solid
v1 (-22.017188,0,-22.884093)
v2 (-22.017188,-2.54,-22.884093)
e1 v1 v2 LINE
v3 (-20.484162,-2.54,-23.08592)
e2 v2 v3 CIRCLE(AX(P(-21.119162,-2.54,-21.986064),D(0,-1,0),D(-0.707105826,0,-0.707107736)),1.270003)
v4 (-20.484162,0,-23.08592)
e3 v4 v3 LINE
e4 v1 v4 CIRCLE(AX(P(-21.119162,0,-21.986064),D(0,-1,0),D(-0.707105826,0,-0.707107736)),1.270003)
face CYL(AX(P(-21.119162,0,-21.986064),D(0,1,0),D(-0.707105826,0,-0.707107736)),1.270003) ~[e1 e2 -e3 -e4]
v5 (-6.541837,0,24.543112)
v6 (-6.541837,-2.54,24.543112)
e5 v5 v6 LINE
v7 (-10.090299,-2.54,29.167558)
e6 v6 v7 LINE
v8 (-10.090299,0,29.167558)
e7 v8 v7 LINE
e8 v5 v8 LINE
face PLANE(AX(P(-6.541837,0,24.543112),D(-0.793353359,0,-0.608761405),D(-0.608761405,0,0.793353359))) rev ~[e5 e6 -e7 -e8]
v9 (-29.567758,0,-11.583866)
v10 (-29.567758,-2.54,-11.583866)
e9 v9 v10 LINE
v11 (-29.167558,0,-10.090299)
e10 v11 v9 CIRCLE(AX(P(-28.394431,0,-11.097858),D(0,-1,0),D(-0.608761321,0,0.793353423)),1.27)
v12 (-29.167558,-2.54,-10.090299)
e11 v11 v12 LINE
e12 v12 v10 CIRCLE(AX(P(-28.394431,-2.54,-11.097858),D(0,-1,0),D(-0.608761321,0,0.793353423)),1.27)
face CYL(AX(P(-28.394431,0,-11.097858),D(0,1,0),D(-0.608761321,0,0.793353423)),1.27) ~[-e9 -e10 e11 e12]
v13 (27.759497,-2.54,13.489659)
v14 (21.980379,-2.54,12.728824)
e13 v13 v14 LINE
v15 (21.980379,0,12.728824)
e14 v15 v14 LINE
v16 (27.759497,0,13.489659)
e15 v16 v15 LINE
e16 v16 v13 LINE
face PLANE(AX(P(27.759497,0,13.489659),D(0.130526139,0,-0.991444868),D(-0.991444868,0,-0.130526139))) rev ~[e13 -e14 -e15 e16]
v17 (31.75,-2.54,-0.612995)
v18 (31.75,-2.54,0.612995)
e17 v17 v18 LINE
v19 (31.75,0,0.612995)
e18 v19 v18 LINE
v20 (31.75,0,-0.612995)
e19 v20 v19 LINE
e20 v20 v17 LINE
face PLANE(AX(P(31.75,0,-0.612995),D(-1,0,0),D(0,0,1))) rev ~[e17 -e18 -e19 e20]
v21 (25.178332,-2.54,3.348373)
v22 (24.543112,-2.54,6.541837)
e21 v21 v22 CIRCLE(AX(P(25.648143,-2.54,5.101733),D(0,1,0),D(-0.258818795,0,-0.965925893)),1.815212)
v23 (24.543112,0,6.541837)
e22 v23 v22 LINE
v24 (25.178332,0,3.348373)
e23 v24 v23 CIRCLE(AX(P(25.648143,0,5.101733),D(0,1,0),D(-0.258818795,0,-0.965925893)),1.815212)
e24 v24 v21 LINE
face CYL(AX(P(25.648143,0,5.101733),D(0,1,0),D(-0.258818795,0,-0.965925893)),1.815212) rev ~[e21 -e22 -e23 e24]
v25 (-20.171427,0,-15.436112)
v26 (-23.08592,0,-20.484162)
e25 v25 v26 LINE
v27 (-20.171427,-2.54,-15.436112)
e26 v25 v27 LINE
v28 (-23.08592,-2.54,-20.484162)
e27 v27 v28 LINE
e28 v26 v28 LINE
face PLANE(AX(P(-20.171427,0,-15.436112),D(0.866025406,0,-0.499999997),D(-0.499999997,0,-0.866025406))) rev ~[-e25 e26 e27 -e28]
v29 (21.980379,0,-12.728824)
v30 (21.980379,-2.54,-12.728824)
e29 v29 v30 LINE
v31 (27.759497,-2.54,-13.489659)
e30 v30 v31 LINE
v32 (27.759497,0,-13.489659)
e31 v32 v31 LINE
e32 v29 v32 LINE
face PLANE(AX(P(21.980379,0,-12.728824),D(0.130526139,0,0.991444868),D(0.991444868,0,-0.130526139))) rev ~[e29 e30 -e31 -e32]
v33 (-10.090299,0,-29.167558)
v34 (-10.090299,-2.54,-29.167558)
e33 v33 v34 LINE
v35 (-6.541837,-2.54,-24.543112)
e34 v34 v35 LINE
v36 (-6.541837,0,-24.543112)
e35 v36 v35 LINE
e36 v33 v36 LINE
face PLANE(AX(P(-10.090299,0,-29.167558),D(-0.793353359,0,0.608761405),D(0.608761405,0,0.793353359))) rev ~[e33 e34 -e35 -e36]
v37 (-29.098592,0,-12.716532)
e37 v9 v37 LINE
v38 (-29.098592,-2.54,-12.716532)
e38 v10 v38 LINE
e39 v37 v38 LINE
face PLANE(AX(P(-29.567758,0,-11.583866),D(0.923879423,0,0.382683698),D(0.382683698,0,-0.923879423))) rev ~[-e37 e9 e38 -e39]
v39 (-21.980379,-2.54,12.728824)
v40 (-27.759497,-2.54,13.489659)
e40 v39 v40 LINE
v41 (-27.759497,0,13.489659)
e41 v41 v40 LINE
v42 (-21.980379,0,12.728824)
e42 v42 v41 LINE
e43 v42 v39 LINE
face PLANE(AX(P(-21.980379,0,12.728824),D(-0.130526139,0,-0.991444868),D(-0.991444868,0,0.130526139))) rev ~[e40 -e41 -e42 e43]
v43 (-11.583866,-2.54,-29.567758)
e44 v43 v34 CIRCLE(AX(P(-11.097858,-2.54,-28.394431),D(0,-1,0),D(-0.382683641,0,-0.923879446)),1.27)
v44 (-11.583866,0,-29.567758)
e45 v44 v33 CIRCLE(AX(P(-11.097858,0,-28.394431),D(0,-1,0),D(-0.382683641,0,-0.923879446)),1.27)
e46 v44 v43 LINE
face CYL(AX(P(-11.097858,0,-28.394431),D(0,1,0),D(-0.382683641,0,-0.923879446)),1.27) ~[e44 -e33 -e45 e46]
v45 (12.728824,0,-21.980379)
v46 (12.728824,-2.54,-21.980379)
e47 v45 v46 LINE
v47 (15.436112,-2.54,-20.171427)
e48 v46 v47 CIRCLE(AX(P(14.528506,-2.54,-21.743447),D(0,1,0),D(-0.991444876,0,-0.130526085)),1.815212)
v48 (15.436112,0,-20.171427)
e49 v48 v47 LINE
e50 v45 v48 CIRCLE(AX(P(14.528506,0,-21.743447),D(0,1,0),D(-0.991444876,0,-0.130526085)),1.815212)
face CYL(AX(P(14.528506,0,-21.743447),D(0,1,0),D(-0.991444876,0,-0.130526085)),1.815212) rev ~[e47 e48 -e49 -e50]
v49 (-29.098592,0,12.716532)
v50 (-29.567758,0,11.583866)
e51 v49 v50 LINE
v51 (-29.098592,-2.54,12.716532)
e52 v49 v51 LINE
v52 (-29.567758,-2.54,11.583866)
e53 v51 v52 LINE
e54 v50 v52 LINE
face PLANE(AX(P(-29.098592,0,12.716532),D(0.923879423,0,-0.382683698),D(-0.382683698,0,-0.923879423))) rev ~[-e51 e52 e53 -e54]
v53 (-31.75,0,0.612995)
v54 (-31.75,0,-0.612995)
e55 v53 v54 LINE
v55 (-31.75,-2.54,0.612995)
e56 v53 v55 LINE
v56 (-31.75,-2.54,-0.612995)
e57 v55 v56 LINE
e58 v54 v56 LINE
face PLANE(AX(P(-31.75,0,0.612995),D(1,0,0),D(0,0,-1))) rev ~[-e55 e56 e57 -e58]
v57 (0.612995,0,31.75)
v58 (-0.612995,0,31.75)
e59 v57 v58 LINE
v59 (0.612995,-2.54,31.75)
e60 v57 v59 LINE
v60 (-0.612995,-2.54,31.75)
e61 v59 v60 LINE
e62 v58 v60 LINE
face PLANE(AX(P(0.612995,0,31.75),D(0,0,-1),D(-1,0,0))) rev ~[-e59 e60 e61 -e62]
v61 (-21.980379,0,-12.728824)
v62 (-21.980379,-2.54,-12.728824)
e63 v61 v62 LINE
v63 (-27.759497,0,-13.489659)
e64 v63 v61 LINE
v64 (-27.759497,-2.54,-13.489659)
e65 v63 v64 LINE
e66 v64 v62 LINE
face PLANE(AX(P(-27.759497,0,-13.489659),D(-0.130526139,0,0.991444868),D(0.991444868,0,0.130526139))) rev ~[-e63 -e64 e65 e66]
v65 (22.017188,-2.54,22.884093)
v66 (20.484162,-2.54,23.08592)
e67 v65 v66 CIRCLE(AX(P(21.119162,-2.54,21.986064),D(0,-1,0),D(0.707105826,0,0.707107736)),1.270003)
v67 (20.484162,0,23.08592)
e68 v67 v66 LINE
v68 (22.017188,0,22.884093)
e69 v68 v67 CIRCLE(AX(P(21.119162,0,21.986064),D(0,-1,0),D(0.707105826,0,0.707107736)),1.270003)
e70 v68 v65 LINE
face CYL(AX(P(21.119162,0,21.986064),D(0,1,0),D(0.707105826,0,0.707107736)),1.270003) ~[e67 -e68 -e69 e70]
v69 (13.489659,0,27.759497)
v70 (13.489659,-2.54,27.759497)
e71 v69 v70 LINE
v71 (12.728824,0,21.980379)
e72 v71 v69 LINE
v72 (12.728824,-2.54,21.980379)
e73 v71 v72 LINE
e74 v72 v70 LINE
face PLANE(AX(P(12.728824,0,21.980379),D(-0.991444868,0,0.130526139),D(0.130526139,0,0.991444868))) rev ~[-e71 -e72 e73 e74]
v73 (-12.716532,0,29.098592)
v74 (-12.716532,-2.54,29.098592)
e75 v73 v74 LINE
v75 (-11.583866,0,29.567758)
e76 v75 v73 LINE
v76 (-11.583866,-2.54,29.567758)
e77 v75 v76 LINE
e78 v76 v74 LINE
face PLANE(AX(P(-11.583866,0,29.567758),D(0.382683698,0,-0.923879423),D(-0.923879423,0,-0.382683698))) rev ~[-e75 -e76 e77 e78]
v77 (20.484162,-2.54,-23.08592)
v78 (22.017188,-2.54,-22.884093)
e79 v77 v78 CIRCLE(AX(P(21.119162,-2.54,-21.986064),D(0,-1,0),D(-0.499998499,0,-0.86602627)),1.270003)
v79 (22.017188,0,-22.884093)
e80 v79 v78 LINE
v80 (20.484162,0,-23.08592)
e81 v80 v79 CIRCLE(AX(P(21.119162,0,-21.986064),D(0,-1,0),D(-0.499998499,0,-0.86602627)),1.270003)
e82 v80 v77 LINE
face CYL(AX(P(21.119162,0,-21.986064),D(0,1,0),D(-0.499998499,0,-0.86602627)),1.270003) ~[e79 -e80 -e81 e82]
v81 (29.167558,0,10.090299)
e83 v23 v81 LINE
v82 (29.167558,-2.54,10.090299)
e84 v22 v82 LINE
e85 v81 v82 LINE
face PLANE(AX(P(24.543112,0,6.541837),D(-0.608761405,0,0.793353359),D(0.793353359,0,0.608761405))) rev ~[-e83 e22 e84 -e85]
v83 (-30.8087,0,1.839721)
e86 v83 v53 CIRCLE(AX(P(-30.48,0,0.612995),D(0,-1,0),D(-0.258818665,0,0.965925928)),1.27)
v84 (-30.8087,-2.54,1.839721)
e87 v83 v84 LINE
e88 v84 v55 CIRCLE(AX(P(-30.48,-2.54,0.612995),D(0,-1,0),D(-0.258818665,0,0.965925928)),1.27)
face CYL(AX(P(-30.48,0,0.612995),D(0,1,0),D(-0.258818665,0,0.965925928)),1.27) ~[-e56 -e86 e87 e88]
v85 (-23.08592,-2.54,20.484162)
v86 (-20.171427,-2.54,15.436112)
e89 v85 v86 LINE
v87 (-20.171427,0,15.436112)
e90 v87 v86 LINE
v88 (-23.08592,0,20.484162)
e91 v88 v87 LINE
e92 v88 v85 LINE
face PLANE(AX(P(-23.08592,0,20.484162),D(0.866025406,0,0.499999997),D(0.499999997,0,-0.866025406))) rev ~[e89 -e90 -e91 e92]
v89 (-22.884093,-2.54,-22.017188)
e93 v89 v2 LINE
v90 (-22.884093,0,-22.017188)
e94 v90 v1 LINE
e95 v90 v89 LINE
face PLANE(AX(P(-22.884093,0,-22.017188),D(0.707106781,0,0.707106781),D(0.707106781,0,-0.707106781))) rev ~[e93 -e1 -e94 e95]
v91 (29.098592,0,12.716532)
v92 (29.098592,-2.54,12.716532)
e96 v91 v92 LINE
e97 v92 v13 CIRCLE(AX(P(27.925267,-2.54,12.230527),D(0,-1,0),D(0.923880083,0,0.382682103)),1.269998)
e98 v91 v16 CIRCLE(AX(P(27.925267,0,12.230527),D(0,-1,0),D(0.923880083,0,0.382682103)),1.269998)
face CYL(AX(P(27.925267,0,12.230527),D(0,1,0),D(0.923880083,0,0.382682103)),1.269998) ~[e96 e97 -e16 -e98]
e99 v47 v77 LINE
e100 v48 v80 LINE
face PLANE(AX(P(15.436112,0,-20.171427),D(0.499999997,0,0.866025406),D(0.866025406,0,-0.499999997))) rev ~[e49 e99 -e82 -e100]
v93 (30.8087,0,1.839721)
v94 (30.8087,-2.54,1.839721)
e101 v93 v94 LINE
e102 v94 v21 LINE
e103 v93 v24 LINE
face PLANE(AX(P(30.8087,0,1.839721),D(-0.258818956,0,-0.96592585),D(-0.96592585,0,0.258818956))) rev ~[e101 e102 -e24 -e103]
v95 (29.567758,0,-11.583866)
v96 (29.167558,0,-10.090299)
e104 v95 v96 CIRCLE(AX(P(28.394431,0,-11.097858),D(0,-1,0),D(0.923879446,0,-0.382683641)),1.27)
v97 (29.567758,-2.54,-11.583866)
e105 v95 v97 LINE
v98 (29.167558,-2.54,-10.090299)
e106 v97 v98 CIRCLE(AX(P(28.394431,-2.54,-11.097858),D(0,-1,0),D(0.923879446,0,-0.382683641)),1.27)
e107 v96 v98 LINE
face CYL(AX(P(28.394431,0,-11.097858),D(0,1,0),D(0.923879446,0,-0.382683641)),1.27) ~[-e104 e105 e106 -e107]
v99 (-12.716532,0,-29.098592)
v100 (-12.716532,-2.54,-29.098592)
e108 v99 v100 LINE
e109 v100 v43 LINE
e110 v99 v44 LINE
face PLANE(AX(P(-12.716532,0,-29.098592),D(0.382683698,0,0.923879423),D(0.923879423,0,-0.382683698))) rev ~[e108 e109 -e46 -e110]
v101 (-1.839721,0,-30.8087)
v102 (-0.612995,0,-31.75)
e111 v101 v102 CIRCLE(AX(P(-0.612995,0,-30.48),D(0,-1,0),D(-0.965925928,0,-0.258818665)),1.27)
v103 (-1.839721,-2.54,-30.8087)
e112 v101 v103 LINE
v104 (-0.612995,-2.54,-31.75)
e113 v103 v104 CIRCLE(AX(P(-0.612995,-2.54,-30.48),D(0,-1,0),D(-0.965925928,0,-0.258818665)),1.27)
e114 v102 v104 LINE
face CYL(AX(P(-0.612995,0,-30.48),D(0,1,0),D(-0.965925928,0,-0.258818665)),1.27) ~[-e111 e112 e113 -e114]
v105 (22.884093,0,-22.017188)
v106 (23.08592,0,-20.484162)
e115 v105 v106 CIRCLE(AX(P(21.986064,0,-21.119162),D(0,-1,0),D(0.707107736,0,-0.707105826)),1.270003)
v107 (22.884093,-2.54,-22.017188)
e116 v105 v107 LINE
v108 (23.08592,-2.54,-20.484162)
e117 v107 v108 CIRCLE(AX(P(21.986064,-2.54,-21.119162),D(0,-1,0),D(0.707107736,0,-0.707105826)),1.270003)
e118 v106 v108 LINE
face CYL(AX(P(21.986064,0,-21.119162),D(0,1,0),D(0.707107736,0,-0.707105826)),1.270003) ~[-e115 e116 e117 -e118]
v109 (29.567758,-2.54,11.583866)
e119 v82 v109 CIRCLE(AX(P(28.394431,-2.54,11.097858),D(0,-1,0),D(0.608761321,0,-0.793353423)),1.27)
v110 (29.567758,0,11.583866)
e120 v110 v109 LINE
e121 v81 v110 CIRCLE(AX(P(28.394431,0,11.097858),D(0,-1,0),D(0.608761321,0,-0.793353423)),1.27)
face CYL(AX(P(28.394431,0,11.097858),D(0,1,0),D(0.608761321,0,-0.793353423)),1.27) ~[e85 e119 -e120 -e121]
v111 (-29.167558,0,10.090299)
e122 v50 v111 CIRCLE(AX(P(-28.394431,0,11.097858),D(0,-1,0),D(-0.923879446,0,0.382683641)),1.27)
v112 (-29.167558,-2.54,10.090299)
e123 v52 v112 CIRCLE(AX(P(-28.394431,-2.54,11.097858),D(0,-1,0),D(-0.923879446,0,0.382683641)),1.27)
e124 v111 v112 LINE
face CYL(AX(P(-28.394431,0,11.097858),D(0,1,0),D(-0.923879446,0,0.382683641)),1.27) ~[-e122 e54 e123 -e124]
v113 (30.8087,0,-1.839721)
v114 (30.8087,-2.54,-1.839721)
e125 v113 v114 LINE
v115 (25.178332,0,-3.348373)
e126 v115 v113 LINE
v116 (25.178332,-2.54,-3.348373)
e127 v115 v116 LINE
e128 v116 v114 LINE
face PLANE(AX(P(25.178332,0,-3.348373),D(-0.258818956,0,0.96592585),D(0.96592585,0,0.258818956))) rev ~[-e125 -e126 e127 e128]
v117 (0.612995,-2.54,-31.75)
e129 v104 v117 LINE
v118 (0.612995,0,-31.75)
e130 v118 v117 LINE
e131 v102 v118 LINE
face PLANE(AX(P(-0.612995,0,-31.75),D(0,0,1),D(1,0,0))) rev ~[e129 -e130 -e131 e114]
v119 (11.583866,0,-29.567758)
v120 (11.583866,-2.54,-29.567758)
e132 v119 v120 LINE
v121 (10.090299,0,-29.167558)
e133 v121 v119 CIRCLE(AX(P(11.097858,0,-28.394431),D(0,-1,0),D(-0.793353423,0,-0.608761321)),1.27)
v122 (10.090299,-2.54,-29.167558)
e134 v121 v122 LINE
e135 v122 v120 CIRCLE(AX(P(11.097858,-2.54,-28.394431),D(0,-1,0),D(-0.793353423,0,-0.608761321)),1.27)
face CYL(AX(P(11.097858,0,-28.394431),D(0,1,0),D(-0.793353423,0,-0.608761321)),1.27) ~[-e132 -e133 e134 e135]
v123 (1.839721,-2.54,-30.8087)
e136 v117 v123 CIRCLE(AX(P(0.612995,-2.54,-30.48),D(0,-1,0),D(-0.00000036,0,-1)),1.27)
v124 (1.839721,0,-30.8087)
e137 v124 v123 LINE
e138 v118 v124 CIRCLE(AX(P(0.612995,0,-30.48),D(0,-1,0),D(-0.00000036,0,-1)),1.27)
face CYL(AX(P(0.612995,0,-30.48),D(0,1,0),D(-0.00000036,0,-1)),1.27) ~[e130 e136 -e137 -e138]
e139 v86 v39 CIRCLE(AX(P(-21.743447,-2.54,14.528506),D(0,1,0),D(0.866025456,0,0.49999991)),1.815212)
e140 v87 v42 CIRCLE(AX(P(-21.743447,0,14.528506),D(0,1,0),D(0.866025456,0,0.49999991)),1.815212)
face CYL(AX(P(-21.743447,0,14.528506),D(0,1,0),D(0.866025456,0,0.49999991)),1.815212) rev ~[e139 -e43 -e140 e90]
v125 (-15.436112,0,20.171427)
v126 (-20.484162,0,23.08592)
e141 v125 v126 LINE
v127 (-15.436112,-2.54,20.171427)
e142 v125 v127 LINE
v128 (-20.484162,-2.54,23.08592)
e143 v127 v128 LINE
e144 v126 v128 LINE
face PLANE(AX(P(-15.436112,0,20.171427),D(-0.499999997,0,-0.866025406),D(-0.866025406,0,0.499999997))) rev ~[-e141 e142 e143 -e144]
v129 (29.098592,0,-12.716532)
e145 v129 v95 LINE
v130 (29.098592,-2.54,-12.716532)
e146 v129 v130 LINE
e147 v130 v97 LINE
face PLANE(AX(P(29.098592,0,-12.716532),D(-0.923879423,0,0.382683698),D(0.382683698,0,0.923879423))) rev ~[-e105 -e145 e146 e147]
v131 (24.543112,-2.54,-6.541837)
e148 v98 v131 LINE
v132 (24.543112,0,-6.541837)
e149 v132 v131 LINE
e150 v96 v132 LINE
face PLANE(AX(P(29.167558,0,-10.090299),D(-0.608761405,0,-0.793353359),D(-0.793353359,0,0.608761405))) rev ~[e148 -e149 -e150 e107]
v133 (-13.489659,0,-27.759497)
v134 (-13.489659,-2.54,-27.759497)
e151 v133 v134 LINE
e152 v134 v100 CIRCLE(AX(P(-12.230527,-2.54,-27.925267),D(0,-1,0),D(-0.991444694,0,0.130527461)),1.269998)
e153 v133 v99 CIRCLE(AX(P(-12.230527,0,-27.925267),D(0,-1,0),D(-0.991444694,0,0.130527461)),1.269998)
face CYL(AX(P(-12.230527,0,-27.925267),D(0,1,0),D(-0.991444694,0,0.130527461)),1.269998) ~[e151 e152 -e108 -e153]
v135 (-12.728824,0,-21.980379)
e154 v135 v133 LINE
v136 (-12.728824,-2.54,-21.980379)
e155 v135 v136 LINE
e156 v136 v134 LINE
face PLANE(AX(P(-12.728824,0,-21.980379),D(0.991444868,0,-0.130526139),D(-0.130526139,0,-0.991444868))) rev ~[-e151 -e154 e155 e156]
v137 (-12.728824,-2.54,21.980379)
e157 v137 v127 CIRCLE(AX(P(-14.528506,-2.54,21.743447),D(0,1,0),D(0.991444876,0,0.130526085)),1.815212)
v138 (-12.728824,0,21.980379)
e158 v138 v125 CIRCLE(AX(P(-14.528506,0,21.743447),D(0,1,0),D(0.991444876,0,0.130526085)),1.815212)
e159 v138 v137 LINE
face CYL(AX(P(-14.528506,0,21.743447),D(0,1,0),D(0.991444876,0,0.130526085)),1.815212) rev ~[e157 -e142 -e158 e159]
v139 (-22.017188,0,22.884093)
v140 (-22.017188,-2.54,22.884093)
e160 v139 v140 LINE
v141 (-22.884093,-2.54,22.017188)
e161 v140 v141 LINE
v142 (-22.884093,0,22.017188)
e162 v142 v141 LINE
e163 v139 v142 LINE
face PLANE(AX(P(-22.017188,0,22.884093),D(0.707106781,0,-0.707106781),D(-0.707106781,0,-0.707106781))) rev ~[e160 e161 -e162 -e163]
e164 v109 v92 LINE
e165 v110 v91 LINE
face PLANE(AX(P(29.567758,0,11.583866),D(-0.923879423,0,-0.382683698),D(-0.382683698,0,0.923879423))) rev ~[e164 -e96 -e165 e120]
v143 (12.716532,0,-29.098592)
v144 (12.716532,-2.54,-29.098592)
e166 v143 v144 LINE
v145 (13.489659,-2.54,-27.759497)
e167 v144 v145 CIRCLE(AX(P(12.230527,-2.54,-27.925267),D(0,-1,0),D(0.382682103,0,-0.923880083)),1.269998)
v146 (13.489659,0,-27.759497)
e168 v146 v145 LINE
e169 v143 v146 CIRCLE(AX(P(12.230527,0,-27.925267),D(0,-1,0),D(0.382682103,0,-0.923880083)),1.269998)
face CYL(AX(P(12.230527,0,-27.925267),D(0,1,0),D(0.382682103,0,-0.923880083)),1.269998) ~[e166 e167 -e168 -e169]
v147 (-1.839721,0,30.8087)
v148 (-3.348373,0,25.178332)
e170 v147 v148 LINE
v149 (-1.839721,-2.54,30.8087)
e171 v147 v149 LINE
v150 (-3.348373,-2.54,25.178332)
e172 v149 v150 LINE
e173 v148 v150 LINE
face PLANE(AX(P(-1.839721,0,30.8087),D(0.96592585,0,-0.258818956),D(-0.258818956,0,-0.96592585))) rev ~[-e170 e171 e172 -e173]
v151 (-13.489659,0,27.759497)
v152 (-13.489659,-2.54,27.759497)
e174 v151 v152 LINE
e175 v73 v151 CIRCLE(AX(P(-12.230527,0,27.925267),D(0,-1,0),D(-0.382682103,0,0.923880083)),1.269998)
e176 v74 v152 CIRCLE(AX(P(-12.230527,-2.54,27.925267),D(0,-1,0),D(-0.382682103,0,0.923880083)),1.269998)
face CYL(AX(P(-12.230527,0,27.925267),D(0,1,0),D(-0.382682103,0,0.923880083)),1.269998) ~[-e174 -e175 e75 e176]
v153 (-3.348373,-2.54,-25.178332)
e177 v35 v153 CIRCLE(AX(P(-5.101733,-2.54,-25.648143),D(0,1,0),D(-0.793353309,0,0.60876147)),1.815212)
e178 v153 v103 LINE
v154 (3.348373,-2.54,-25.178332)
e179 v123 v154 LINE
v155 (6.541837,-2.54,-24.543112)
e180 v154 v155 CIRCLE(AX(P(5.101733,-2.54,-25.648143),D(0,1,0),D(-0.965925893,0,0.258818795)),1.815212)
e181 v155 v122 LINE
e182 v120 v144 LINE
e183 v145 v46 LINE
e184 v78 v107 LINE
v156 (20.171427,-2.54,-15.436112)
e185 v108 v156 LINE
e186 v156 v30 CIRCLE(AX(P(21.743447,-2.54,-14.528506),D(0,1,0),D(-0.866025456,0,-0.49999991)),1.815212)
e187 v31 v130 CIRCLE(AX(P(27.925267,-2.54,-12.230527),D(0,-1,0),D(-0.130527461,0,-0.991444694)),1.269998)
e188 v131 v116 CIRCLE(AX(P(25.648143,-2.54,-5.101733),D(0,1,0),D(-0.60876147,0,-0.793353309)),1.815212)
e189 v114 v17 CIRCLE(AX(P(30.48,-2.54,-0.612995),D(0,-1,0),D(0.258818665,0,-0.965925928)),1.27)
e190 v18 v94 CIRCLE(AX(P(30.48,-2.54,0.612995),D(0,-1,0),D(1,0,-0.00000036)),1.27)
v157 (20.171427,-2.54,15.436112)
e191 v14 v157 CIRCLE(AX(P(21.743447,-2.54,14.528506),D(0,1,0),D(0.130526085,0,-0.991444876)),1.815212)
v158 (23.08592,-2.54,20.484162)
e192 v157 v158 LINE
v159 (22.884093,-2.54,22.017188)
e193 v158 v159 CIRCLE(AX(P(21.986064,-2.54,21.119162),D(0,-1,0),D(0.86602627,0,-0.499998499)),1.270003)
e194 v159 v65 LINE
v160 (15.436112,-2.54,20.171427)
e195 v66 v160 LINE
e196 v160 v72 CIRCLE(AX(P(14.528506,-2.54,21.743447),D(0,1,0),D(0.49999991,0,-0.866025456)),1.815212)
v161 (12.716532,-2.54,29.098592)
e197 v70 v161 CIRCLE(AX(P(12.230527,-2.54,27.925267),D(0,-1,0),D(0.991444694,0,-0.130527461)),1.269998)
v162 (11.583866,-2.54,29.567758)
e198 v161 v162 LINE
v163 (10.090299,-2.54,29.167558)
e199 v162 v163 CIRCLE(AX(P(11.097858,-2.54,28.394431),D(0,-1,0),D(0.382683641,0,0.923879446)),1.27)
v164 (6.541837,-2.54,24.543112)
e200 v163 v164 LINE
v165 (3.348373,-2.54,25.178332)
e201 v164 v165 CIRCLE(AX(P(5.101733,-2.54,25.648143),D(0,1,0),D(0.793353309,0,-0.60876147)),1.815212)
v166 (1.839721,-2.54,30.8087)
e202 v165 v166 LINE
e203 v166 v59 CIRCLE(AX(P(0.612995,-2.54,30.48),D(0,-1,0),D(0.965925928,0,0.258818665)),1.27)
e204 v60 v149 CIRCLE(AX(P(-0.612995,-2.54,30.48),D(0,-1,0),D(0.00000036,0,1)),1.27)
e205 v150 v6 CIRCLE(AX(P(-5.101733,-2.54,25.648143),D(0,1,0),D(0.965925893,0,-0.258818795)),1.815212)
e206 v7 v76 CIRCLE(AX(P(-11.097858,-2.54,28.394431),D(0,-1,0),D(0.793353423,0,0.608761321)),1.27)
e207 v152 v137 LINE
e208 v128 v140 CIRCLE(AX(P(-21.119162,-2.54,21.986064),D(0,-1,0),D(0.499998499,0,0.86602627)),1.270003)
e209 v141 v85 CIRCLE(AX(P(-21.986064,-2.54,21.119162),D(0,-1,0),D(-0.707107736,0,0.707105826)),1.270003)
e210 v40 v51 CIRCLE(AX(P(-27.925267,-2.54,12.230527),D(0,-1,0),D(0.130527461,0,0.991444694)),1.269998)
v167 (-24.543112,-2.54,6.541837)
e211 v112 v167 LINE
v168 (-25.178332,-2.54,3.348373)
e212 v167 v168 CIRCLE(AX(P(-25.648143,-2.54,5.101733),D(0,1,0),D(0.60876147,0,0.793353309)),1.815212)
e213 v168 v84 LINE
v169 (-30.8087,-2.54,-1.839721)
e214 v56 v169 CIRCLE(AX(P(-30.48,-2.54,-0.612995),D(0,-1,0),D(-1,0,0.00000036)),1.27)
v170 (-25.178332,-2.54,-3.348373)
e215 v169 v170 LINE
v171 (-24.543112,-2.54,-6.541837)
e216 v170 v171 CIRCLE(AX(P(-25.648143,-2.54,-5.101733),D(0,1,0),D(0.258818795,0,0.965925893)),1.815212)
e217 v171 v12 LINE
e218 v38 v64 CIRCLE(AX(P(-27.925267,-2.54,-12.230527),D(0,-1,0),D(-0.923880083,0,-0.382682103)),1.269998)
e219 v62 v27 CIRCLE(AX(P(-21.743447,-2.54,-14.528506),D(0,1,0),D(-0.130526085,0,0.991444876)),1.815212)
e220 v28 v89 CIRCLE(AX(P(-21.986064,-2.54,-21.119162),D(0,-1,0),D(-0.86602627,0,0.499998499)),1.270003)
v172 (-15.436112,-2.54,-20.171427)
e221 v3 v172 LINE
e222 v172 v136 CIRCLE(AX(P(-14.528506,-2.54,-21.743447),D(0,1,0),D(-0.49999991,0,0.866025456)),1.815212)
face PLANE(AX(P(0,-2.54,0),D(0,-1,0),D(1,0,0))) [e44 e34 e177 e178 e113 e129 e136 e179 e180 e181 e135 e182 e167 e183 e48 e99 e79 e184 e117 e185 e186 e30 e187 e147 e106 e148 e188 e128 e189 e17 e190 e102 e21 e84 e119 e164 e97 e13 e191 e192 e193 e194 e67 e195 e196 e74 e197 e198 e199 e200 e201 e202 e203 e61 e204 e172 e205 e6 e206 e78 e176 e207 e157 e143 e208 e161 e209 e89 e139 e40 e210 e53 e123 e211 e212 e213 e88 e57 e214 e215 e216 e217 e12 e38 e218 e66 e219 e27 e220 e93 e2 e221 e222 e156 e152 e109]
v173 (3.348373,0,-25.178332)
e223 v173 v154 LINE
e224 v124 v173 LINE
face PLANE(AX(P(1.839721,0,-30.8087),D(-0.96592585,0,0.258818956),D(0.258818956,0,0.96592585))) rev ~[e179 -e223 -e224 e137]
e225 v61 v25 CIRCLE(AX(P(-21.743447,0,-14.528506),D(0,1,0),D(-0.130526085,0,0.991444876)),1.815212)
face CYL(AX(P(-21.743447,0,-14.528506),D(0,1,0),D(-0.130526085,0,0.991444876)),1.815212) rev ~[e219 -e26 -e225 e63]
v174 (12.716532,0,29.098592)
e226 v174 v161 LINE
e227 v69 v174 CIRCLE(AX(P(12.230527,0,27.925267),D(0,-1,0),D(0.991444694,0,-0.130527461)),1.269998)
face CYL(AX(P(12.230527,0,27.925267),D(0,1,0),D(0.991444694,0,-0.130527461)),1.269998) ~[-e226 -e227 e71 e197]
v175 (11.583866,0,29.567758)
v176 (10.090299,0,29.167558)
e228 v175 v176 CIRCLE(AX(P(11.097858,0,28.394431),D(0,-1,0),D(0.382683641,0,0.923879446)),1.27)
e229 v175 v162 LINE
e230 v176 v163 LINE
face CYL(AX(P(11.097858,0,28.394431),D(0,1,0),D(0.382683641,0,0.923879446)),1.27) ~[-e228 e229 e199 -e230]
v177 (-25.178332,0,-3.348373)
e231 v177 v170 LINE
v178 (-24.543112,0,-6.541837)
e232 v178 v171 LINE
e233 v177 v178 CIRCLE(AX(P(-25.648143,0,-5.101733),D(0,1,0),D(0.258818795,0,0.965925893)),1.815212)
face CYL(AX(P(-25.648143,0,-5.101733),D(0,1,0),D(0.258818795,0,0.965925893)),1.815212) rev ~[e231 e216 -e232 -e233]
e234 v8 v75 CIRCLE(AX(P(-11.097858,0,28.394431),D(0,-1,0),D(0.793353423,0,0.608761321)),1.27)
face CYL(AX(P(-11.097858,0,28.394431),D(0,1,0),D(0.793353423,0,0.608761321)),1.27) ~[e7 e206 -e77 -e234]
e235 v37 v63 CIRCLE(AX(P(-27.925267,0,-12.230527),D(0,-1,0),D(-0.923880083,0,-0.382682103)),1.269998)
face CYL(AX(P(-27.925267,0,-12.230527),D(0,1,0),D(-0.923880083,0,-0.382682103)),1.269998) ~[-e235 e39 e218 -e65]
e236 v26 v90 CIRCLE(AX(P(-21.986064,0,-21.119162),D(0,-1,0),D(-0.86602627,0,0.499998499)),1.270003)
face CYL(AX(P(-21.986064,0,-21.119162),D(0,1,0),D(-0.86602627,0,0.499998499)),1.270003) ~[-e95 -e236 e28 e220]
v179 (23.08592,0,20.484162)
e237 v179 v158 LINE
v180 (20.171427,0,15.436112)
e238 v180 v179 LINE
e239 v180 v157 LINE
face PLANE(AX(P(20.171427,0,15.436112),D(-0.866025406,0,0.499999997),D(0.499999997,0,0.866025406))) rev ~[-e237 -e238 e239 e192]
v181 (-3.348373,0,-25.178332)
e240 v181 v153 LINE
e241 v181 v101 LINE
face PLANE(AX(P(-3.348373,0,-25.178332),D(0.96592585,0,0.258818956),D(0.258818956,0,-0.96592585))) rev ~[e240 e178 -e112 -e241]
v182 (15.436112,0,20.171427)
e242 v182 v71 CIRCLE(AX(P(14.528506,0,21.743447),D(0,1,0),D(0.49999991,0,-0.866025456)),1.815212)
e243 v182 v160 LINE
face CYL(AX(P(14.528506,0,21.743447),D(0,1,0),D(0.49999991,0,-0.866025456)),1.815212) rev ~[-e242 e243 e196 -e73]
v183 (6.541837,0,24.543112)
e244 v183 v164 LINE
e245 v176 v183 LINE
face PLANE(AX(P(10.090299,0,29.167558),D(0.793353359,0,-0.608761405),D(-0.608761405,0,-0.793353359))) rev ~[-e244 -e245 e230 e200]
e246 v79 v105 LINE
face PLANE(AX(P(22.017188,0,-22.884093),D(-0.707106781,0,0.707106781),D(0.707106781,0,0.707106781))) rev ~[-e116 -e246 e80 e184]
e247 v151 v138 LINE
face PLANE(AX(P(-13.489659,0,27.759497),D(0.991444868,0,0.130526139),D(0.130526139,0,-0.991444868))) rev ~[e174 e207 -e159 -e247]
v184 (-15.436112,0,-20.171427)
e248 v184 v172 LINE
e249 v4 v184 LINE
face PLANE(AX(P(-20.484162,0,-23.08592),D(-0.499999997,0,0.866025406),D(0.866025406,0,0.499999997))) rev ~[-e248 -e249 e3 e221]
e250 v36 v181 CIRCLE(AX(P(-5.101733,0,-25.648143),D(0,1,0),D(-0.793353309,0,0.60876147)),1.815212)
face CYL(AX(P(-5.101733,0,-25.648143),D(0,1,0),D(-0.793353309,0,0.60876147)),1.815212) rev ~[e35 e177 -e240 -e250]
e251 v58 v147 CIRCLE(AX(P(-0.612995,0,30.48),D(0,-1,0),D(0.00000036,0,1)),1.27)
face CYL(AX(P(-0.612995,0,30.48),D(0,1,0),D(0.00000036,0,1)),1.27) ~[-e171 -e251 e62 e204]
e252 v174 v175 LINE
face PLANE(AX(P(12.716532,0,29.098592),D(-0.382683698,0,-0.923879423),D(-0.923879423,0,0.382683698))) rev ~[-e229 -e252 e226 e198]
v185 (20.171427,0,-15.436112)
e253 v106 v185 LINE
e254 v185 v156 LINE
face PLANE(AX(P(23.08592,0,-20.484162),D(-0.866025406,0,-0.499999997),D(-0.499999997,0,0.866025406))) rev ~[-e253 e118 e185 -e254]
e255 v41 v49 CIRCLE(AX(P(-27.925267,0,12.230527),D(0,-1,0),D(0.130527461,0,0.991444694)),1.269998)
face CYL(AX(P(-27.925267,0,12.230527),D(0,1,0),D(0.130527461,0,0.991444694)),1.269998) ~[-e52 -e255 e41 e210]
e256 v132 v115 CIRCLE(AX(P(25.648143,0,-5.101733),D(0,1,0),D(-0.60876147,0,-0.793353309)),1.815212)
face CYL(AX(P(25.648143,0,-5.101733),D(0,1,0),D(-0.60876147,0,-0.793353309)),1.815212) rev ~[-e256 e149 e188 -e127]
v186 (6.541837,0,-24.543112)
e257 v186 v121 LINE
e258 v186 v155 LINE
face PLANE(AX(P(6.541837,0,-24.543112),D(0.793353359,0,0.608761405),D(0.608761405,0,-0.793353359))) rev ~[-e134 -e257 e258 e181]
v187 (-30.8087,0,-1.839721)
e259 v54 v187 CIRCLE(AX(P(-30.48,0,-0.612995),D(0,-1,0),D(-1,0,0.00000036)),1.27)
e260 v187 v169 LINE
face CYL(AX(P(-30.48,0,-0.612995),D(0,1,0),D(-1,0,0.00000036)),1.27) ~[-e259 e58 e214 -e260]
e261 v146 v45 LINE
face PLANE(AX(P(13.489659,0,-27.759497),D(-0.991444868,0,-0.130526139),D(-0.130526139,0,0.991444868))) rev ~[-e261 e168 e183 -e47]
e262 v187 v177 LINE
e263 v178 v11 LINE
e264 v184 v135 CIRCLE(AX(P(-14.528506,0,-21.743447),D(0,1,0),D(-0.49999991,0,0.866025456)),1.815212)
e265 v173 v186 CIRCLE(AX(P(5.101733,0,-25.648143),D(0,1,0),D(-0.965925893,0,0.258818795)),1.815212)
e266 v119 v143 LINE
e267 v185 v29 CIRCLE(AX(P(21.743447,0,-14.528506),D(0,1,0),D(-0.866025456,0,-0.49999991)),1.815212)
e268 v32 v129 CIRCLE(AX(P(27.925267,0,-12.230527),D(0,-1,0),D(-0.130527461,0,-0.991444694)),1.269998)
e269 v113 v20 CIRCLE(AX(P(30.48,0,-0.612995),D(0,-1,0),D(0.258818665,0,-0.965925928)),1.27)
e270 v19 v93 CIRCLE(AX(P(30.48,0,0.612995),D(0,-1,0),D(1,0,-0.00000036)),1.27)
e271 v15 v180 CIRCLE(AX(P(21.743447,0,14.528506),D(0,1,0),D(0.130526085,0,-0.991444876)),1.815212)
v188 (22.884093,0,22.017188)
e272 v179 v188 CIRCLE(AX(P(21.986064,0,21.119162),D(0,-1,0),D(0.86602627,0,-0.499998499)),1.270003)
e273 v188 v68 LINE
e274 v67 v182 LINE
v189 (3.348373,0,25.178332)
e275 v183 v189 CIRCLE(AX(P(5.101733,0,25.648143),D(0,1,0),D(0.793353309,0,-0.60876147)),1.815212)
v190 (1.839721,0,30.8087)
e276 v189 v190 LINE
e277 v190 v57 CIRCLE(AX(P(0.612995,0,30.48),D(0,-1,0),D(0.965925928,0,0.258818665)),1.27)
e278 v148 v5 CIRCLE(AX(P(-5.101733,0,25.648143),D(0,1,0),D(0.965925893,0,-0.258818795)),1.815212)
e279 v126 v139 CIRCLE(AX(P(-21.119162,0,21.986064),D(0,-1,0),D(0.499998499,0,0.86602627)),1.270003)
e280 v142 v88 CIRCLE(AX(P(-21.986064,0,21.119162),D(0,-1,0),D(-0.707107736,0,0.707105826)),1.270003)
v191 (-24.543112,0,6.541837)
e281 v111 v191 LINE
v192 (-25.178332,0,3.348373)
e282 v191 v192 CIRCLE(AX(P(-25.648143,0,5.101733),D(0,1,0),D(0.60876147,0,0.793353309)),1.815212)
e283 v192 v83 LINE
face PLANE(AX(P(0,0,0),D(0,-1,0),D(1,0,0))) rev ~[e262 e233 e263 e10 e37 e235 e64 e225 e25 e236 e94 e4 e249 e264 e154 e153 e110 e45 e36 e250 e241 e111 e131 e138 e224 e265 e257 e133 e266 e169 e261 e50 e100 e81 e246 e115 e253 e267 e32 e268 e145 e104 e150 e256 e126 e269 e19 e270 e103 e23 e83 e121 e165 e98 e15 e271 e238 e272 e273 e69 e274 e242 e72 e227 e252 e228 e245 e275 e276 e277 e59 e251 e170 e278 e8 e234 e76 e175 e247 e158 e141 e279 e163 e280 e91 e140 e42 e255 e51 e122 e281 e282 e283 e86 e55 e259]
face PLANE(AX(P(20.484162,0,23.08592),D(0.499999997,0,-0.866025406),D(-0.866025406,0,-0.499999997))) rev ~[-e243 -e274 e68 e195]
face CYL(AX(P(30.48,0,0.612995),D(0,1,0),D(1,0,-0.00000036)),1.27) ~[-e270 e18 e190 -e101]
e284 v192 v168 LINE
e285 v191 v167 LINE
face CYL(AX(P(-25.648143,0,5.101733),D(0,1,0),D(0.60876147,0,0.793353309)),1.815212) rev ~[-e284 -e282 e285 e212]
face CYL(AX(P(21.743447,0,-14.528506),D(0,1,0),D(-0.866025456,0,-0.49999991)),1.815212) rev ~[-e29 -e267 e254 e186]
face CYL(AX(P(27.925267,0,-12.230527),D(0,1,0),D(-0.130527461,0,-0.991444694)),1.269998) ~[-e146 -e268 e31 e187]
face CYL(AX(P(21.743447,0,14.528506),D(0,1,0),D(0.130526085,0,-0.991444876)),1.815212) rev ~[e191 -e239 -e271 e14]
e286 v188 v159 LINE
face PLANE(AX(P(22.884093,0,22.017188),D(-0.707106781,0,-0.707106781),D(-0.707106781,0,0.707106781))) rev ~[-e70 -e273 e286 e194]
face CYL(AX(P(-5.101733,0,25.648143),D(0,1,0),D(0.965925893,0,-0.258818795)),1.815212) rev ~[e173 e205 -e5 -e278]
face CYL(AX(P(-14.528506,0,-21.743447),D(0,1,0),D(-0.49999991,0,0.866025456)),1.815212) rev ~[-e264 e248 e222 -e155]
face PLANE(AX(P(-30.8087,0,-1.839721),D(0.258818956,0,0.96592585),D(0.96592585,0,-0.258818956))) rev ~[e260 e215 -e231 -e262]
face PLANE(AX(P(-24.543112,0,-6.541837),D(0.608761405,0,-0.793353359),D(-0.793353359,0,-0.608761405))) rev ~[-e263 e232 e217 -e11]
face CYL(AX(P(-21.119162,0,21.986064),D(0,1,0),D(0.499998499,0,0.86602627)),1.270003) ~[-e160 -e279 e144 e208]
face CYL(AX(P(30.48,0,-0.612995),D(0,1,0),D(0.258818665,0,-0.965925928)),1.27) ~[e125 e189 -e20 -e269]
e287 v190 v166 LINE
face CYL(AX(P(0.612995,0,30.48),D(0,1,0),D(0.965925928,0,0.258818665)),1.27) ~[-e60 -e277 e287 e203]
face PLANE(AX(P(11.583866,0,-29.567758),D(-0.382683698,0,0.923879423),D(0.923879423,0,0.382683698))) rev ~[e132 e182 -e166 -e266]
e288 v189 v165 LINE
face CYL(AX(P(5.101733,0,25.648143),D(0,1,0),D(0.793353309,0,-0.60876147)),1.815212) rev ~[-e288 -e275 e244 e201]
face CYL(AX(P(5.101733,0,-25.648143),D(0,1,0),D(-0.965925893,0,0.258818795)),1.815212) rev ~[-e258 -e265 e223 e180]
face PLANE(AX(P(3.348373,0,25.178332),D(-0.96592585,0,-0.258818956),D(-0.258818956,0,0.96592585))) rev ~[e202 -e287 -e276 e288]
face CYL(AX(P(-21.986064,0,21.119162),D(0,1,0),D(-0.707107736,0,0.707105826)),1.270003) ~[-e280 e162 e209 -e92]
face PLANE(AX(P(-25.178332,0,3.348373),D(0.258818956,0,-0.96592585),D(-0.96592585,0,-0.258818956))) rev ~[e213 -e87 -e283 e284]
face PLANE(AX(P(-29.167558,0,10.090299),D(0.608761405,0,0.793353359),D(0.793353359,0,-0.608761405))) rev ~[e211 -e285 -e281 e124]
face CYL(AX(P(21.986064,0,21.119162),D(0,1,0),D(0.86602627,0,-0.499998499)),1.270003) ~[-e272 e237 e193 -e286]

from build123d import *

# Parameters (mm, degrees)
F1_DEPTH = 2.54


with BuildPart() as f1:
    # F0 (on Front) → F1 (new body)
    with BuildSketch(Plane.XZ):
        with BuildLine():
            ThreePointArc((1.839721, 30.8087), (1.386122, 31.487559), (0.612995, 31.75))
            Line((0.612995, 31.75), (-0.612995, 31.75))
            ThreePointArc((-0.612995, 31.75), (-1.386122, 31.487559), (-1.839721, 30.8087))
            Line((-1.839721, 30.8087), (-3.348373, 25.178332))
            ThreePointArc((-3.348373, 25.178332), (-4.747603, 23.86781), (-6.541837, 24.543112))
            Line((-6.541837, 24.543112), (-10.090299, 29.167558))
            ThreePointArc((-10.090299, 29.167558), (-10.769158, 29.621157), (-11.583866, 29.567758))
            Line((-11.583866, 29.567758), (-12.716532, 29.098592))
            ThreePointArc((-12.716532, 29.098592), (-13.330377, 28.560265), (-13.489659, 27.759497))
            Line((-13.489659, 27.759497), (-12.728824, 21.980379))
            ThreePointArc((-12.728824, 21.980379), (-13.520029, 20.234153), (-15.436112, 20.171427))
            Line((-15.436112, 20.171427), (-20.484162, 23.08592))
            ThreePointArc((-20.484162, 23.08592), (-21.28493, 23.245202), (-22.017188, 22.884093))
            Line((-22.017188, 22.884093), (-22.884093, 22.017188))
            ThreePointArc((-22.884093, 22.017188), (-23.245202, 21.28493), (-23.08592, 20.484162))
            Line((-23.08592, 20.484162), (-20.171427, 15.436112))
            ThreePointArc((-20.171427, 15.436112), (-20.234153, 13.520029), (-21.980379, 12.728824))
            Line((-21.980379, 12.728824), (-27.759497, 13.489659))
            ThreePointArc((-27.759497, 13.489659), (-28.560265, 13.330377), (-29.098592, 12.716532))
            Line((-29.098592, 12.716532), (-29.567758, 11.583866))
            ThreePointArc((-29.567758, 11.583866), (-29.621157, 10.769158), (-29.167558, 10.090299))
            Line((-29.167558, 10.090299), (-24.543112, 6.541837))
            ThreePointArc((-24.543112, 6.541837), (-23.86781, 4.747603), (-25.178332, 3.348373))
            Line((-25.178332, 3.348373), (-30.8087, 1.839721))
            ThreePointArc((-30.8087, 1.839721), (-31.487559, 1.386122), (-31.75, 0.612995))
            Line((-31.75, 0.612995), (-31.75, -0.612995))
            ThreePointArc((-31.75, -0.612995), (-31.487559, -1.386122), (-30.8087, -1.839721))
            Line((-30.8087, -1.839721), (-25.178332, -3.348373))
            ThreePointArc((-25.178332, -3.348373), (-23.86781, -4.747603), (-24.543112, -6.541837))
            Line((-24.543112, -6.541837), (-29.167558, -10.090299))
            ThreePointArc((-29.167558, -10.090299), (-29.621157, -10.769158), (-29.567758, -11.583866))
            Line((-29.567758, -11.583866), (-29.098592, -12.716532))
            ThreePointArc((-29.098592, -12.716532), (-28.560265, -13.330377), (-27.759497, -13.489659))
            Line((-27.759497, -13.489659), (-21.980379, -12.728824))
            ThreePointArc((-21.980379, -12.728824), (-20.234153, -13.520029), (-20.171427, -15.436112))
            Line((-20.171427, -15.436112), (-23.08592, -20.484162))
            ThreePointArc((-23.08592, -20.484162), (-23.245202, -21.28493), (-22.884093, -22.017188))
            Line((-22.884093, -22.017188), (-22.017188, -22.884093))
            ThreePointArc((-22.017188, -22.884093), (-21.28493, -23.245202), (-20.484162, -23.08592))
            Line((-20.484162, -23.08592), (-15.436112, -20.171427))
            ThreePointArc((-15.436112, -20.171427), (-13.520029, -20.234153), (-12.728824, -21.980379))
            Line((-12.728824, -21.980379), (-13.489659, -27.759497))
            ThreePointArc((-13.489659, -27.759497), (-13.330377, -28.560265), (-12.716532, -29.098592))
            Line((-12.716532, -29.098592), (-11.583866, -29.567758))
            ThreePointArc((-11.583866, -29.567758), (-10.769158, -29.621157), (-10.090299, -29.167558))
            Line((-10.090299, -29.167558), (-6.541837, -24.543112))
            ThreePointArc((-6.541837, -24.543112), (-4.747603, -23.86781), (-3.348373, -25.178332))
            Line((-3.348373, -25.178332), (-1.839721, -30.8087))
            ThreePointArc((-1.839721, -30.8087), (-1.386122, -31.487559), (-0.612995, -31.75))
            Line((-0.612995, -31.75), (0.612995, -31.75))
            ThreePointArc((0.612995, -31.75), (1.386122, -31.487559), (1.839721, -30.8087))
            Line((1.839721, -30.8087), (3.348373, -25.178332))
            ThreePointArc((3.348373, -25.178332), (4.747603, -23.86781), (6.541837, -24.543112))
            Line((6.541837, -24.543112), (10.090299, -29.167558))
            ThreePointArc((10.090299, -29.167558), (10.769158, -29.621157), (11.583866, -29.567758))
            Line((11.583866, -29.567758), (12.716532, -29.098592))
            ThreePointArc((12.716532, -29.098592), (13.330377, -28.560265), (13.489659, -27.759497))
            Line((13.489659, -27.759497), (12.728824, -21.980379))
            ThreePointArc((12.728824, -21.980379), (13.520029, -20.234153), (15.436112, -20.171427))
            Line((15.436112, -20.171427), (20.484162, -23.08592))
            ThreePointArc((20.484162, -23.08592), (21.28493, -23.245202), (22.017188, -22.884093))
            Line((22.017188, -22.884093), (22.884093, -22.017188))
            ThreePointArc((22.884093, -22.017188), (23.245202, -21.28493), (23.08592, -20.484162))
            Line((23.08592, -20.484162), (20.171427, -15.436112))
            ThreePointArc((20.171427, -15.436112), (20.234153, -13.520029), (21.980379, -12.728824))
            Line((21.980379, -12.728824), (27.759497, -13.489659))
            ThreePointArc((27.759497, -13.489659), (28.560265, -13.330377), (29.098592, -12.716532))
            Line((29.098592, -12.716532), (29.567758, -11.583866))
            ThreePointArc((29.567758, -11.583866), (29.621157, -10.769158), (29.167558, -10.090299))
            Line((29.167558, -10.090299), (24.543112, -6.541837))
            ThreePointArc((24.543112, -6.541837), (23.86781, -4.747603), (25.178332, -3.348373))
            Line((25.178332, -3.348373), (30.8087, -1.839721))
            ThreePointArc((30.8087, -1.839721), (31.487559, -1.386122), (31.75, -0.612995))
            Line((31.75, -0.612995), (31.75, 0.612995))
            ThreePointArc((31.75, 0.612995), (31.487559, 1.386122), (30.8087, 1.839721))
            Line((30.8087, 1.839721), (25.178332, 3.348373))
            ThreePointArc((25.178332, 3.348373), (23.86781, 4.747603), (24.543112, 6.541837))
            Line((24.543112, 6.541837), (29.167558, 10.090299))
            ThreePointArc((29.167558, 10.090299), (29.621157, 10.769158), (29.567758, 11.583866))
            Line((29.567758, 11.583866), (29.098592, 12.716532))
            ThreePointArc((29.098592, 12.716532), (28.560265, 13.330377), (27.759497, 13.489659))
            Line((27.759497, 13.489659), (21.980379, 12.728824))
            ThreePointArc((21.980379, 12.728824), (20.234153, 13.520029), (20.171427, 15.436112))
            Line((20.171427, 15.436112), (23.08592, 20.484162))
            ThreePointArc((23.08592, 20.484162), (23.245202, 21.28493), (22.884093, 22.017188))
            Line((22.884093, 22.017188), (22.017188, 22.884093))
            ThreePointArc((22.017188, 22.884093), (21.28493, 23.245202), (20.484162, 23.08592))
            Line((20.484162, 23.08592), (15.436112, 20.171427))
            ThreePointArc((15.436112, 20.171427), (13.520029, 20.234153), (12.728824, 21.980379))
            Line((12.728824, 21.980379), (13.489659, 27.759497))
            ThreePointArc((13.489659, 27.759497), (13.330377, 28.560265), (12.716532, 29.098592))
            Line((12.716532, 29.098592), (11.583866, 29.567758))
            ThreePointArc((11.583866, 29.567758), (10.769158, 29.621157), (10.090299, 29.167558))
            Line((10.090299, 29.167558), (6.541837, 24.543112))
            ThreePointArc((6.541837, 24.543112), (4.747603, 23.86781), (3.348373, 25.178332))
            Line((3.348373, 25.178332), (1.839721, 30.8087))
        make_face()
    extrude(amount=F1_DEPTH)


solid = f1.part
